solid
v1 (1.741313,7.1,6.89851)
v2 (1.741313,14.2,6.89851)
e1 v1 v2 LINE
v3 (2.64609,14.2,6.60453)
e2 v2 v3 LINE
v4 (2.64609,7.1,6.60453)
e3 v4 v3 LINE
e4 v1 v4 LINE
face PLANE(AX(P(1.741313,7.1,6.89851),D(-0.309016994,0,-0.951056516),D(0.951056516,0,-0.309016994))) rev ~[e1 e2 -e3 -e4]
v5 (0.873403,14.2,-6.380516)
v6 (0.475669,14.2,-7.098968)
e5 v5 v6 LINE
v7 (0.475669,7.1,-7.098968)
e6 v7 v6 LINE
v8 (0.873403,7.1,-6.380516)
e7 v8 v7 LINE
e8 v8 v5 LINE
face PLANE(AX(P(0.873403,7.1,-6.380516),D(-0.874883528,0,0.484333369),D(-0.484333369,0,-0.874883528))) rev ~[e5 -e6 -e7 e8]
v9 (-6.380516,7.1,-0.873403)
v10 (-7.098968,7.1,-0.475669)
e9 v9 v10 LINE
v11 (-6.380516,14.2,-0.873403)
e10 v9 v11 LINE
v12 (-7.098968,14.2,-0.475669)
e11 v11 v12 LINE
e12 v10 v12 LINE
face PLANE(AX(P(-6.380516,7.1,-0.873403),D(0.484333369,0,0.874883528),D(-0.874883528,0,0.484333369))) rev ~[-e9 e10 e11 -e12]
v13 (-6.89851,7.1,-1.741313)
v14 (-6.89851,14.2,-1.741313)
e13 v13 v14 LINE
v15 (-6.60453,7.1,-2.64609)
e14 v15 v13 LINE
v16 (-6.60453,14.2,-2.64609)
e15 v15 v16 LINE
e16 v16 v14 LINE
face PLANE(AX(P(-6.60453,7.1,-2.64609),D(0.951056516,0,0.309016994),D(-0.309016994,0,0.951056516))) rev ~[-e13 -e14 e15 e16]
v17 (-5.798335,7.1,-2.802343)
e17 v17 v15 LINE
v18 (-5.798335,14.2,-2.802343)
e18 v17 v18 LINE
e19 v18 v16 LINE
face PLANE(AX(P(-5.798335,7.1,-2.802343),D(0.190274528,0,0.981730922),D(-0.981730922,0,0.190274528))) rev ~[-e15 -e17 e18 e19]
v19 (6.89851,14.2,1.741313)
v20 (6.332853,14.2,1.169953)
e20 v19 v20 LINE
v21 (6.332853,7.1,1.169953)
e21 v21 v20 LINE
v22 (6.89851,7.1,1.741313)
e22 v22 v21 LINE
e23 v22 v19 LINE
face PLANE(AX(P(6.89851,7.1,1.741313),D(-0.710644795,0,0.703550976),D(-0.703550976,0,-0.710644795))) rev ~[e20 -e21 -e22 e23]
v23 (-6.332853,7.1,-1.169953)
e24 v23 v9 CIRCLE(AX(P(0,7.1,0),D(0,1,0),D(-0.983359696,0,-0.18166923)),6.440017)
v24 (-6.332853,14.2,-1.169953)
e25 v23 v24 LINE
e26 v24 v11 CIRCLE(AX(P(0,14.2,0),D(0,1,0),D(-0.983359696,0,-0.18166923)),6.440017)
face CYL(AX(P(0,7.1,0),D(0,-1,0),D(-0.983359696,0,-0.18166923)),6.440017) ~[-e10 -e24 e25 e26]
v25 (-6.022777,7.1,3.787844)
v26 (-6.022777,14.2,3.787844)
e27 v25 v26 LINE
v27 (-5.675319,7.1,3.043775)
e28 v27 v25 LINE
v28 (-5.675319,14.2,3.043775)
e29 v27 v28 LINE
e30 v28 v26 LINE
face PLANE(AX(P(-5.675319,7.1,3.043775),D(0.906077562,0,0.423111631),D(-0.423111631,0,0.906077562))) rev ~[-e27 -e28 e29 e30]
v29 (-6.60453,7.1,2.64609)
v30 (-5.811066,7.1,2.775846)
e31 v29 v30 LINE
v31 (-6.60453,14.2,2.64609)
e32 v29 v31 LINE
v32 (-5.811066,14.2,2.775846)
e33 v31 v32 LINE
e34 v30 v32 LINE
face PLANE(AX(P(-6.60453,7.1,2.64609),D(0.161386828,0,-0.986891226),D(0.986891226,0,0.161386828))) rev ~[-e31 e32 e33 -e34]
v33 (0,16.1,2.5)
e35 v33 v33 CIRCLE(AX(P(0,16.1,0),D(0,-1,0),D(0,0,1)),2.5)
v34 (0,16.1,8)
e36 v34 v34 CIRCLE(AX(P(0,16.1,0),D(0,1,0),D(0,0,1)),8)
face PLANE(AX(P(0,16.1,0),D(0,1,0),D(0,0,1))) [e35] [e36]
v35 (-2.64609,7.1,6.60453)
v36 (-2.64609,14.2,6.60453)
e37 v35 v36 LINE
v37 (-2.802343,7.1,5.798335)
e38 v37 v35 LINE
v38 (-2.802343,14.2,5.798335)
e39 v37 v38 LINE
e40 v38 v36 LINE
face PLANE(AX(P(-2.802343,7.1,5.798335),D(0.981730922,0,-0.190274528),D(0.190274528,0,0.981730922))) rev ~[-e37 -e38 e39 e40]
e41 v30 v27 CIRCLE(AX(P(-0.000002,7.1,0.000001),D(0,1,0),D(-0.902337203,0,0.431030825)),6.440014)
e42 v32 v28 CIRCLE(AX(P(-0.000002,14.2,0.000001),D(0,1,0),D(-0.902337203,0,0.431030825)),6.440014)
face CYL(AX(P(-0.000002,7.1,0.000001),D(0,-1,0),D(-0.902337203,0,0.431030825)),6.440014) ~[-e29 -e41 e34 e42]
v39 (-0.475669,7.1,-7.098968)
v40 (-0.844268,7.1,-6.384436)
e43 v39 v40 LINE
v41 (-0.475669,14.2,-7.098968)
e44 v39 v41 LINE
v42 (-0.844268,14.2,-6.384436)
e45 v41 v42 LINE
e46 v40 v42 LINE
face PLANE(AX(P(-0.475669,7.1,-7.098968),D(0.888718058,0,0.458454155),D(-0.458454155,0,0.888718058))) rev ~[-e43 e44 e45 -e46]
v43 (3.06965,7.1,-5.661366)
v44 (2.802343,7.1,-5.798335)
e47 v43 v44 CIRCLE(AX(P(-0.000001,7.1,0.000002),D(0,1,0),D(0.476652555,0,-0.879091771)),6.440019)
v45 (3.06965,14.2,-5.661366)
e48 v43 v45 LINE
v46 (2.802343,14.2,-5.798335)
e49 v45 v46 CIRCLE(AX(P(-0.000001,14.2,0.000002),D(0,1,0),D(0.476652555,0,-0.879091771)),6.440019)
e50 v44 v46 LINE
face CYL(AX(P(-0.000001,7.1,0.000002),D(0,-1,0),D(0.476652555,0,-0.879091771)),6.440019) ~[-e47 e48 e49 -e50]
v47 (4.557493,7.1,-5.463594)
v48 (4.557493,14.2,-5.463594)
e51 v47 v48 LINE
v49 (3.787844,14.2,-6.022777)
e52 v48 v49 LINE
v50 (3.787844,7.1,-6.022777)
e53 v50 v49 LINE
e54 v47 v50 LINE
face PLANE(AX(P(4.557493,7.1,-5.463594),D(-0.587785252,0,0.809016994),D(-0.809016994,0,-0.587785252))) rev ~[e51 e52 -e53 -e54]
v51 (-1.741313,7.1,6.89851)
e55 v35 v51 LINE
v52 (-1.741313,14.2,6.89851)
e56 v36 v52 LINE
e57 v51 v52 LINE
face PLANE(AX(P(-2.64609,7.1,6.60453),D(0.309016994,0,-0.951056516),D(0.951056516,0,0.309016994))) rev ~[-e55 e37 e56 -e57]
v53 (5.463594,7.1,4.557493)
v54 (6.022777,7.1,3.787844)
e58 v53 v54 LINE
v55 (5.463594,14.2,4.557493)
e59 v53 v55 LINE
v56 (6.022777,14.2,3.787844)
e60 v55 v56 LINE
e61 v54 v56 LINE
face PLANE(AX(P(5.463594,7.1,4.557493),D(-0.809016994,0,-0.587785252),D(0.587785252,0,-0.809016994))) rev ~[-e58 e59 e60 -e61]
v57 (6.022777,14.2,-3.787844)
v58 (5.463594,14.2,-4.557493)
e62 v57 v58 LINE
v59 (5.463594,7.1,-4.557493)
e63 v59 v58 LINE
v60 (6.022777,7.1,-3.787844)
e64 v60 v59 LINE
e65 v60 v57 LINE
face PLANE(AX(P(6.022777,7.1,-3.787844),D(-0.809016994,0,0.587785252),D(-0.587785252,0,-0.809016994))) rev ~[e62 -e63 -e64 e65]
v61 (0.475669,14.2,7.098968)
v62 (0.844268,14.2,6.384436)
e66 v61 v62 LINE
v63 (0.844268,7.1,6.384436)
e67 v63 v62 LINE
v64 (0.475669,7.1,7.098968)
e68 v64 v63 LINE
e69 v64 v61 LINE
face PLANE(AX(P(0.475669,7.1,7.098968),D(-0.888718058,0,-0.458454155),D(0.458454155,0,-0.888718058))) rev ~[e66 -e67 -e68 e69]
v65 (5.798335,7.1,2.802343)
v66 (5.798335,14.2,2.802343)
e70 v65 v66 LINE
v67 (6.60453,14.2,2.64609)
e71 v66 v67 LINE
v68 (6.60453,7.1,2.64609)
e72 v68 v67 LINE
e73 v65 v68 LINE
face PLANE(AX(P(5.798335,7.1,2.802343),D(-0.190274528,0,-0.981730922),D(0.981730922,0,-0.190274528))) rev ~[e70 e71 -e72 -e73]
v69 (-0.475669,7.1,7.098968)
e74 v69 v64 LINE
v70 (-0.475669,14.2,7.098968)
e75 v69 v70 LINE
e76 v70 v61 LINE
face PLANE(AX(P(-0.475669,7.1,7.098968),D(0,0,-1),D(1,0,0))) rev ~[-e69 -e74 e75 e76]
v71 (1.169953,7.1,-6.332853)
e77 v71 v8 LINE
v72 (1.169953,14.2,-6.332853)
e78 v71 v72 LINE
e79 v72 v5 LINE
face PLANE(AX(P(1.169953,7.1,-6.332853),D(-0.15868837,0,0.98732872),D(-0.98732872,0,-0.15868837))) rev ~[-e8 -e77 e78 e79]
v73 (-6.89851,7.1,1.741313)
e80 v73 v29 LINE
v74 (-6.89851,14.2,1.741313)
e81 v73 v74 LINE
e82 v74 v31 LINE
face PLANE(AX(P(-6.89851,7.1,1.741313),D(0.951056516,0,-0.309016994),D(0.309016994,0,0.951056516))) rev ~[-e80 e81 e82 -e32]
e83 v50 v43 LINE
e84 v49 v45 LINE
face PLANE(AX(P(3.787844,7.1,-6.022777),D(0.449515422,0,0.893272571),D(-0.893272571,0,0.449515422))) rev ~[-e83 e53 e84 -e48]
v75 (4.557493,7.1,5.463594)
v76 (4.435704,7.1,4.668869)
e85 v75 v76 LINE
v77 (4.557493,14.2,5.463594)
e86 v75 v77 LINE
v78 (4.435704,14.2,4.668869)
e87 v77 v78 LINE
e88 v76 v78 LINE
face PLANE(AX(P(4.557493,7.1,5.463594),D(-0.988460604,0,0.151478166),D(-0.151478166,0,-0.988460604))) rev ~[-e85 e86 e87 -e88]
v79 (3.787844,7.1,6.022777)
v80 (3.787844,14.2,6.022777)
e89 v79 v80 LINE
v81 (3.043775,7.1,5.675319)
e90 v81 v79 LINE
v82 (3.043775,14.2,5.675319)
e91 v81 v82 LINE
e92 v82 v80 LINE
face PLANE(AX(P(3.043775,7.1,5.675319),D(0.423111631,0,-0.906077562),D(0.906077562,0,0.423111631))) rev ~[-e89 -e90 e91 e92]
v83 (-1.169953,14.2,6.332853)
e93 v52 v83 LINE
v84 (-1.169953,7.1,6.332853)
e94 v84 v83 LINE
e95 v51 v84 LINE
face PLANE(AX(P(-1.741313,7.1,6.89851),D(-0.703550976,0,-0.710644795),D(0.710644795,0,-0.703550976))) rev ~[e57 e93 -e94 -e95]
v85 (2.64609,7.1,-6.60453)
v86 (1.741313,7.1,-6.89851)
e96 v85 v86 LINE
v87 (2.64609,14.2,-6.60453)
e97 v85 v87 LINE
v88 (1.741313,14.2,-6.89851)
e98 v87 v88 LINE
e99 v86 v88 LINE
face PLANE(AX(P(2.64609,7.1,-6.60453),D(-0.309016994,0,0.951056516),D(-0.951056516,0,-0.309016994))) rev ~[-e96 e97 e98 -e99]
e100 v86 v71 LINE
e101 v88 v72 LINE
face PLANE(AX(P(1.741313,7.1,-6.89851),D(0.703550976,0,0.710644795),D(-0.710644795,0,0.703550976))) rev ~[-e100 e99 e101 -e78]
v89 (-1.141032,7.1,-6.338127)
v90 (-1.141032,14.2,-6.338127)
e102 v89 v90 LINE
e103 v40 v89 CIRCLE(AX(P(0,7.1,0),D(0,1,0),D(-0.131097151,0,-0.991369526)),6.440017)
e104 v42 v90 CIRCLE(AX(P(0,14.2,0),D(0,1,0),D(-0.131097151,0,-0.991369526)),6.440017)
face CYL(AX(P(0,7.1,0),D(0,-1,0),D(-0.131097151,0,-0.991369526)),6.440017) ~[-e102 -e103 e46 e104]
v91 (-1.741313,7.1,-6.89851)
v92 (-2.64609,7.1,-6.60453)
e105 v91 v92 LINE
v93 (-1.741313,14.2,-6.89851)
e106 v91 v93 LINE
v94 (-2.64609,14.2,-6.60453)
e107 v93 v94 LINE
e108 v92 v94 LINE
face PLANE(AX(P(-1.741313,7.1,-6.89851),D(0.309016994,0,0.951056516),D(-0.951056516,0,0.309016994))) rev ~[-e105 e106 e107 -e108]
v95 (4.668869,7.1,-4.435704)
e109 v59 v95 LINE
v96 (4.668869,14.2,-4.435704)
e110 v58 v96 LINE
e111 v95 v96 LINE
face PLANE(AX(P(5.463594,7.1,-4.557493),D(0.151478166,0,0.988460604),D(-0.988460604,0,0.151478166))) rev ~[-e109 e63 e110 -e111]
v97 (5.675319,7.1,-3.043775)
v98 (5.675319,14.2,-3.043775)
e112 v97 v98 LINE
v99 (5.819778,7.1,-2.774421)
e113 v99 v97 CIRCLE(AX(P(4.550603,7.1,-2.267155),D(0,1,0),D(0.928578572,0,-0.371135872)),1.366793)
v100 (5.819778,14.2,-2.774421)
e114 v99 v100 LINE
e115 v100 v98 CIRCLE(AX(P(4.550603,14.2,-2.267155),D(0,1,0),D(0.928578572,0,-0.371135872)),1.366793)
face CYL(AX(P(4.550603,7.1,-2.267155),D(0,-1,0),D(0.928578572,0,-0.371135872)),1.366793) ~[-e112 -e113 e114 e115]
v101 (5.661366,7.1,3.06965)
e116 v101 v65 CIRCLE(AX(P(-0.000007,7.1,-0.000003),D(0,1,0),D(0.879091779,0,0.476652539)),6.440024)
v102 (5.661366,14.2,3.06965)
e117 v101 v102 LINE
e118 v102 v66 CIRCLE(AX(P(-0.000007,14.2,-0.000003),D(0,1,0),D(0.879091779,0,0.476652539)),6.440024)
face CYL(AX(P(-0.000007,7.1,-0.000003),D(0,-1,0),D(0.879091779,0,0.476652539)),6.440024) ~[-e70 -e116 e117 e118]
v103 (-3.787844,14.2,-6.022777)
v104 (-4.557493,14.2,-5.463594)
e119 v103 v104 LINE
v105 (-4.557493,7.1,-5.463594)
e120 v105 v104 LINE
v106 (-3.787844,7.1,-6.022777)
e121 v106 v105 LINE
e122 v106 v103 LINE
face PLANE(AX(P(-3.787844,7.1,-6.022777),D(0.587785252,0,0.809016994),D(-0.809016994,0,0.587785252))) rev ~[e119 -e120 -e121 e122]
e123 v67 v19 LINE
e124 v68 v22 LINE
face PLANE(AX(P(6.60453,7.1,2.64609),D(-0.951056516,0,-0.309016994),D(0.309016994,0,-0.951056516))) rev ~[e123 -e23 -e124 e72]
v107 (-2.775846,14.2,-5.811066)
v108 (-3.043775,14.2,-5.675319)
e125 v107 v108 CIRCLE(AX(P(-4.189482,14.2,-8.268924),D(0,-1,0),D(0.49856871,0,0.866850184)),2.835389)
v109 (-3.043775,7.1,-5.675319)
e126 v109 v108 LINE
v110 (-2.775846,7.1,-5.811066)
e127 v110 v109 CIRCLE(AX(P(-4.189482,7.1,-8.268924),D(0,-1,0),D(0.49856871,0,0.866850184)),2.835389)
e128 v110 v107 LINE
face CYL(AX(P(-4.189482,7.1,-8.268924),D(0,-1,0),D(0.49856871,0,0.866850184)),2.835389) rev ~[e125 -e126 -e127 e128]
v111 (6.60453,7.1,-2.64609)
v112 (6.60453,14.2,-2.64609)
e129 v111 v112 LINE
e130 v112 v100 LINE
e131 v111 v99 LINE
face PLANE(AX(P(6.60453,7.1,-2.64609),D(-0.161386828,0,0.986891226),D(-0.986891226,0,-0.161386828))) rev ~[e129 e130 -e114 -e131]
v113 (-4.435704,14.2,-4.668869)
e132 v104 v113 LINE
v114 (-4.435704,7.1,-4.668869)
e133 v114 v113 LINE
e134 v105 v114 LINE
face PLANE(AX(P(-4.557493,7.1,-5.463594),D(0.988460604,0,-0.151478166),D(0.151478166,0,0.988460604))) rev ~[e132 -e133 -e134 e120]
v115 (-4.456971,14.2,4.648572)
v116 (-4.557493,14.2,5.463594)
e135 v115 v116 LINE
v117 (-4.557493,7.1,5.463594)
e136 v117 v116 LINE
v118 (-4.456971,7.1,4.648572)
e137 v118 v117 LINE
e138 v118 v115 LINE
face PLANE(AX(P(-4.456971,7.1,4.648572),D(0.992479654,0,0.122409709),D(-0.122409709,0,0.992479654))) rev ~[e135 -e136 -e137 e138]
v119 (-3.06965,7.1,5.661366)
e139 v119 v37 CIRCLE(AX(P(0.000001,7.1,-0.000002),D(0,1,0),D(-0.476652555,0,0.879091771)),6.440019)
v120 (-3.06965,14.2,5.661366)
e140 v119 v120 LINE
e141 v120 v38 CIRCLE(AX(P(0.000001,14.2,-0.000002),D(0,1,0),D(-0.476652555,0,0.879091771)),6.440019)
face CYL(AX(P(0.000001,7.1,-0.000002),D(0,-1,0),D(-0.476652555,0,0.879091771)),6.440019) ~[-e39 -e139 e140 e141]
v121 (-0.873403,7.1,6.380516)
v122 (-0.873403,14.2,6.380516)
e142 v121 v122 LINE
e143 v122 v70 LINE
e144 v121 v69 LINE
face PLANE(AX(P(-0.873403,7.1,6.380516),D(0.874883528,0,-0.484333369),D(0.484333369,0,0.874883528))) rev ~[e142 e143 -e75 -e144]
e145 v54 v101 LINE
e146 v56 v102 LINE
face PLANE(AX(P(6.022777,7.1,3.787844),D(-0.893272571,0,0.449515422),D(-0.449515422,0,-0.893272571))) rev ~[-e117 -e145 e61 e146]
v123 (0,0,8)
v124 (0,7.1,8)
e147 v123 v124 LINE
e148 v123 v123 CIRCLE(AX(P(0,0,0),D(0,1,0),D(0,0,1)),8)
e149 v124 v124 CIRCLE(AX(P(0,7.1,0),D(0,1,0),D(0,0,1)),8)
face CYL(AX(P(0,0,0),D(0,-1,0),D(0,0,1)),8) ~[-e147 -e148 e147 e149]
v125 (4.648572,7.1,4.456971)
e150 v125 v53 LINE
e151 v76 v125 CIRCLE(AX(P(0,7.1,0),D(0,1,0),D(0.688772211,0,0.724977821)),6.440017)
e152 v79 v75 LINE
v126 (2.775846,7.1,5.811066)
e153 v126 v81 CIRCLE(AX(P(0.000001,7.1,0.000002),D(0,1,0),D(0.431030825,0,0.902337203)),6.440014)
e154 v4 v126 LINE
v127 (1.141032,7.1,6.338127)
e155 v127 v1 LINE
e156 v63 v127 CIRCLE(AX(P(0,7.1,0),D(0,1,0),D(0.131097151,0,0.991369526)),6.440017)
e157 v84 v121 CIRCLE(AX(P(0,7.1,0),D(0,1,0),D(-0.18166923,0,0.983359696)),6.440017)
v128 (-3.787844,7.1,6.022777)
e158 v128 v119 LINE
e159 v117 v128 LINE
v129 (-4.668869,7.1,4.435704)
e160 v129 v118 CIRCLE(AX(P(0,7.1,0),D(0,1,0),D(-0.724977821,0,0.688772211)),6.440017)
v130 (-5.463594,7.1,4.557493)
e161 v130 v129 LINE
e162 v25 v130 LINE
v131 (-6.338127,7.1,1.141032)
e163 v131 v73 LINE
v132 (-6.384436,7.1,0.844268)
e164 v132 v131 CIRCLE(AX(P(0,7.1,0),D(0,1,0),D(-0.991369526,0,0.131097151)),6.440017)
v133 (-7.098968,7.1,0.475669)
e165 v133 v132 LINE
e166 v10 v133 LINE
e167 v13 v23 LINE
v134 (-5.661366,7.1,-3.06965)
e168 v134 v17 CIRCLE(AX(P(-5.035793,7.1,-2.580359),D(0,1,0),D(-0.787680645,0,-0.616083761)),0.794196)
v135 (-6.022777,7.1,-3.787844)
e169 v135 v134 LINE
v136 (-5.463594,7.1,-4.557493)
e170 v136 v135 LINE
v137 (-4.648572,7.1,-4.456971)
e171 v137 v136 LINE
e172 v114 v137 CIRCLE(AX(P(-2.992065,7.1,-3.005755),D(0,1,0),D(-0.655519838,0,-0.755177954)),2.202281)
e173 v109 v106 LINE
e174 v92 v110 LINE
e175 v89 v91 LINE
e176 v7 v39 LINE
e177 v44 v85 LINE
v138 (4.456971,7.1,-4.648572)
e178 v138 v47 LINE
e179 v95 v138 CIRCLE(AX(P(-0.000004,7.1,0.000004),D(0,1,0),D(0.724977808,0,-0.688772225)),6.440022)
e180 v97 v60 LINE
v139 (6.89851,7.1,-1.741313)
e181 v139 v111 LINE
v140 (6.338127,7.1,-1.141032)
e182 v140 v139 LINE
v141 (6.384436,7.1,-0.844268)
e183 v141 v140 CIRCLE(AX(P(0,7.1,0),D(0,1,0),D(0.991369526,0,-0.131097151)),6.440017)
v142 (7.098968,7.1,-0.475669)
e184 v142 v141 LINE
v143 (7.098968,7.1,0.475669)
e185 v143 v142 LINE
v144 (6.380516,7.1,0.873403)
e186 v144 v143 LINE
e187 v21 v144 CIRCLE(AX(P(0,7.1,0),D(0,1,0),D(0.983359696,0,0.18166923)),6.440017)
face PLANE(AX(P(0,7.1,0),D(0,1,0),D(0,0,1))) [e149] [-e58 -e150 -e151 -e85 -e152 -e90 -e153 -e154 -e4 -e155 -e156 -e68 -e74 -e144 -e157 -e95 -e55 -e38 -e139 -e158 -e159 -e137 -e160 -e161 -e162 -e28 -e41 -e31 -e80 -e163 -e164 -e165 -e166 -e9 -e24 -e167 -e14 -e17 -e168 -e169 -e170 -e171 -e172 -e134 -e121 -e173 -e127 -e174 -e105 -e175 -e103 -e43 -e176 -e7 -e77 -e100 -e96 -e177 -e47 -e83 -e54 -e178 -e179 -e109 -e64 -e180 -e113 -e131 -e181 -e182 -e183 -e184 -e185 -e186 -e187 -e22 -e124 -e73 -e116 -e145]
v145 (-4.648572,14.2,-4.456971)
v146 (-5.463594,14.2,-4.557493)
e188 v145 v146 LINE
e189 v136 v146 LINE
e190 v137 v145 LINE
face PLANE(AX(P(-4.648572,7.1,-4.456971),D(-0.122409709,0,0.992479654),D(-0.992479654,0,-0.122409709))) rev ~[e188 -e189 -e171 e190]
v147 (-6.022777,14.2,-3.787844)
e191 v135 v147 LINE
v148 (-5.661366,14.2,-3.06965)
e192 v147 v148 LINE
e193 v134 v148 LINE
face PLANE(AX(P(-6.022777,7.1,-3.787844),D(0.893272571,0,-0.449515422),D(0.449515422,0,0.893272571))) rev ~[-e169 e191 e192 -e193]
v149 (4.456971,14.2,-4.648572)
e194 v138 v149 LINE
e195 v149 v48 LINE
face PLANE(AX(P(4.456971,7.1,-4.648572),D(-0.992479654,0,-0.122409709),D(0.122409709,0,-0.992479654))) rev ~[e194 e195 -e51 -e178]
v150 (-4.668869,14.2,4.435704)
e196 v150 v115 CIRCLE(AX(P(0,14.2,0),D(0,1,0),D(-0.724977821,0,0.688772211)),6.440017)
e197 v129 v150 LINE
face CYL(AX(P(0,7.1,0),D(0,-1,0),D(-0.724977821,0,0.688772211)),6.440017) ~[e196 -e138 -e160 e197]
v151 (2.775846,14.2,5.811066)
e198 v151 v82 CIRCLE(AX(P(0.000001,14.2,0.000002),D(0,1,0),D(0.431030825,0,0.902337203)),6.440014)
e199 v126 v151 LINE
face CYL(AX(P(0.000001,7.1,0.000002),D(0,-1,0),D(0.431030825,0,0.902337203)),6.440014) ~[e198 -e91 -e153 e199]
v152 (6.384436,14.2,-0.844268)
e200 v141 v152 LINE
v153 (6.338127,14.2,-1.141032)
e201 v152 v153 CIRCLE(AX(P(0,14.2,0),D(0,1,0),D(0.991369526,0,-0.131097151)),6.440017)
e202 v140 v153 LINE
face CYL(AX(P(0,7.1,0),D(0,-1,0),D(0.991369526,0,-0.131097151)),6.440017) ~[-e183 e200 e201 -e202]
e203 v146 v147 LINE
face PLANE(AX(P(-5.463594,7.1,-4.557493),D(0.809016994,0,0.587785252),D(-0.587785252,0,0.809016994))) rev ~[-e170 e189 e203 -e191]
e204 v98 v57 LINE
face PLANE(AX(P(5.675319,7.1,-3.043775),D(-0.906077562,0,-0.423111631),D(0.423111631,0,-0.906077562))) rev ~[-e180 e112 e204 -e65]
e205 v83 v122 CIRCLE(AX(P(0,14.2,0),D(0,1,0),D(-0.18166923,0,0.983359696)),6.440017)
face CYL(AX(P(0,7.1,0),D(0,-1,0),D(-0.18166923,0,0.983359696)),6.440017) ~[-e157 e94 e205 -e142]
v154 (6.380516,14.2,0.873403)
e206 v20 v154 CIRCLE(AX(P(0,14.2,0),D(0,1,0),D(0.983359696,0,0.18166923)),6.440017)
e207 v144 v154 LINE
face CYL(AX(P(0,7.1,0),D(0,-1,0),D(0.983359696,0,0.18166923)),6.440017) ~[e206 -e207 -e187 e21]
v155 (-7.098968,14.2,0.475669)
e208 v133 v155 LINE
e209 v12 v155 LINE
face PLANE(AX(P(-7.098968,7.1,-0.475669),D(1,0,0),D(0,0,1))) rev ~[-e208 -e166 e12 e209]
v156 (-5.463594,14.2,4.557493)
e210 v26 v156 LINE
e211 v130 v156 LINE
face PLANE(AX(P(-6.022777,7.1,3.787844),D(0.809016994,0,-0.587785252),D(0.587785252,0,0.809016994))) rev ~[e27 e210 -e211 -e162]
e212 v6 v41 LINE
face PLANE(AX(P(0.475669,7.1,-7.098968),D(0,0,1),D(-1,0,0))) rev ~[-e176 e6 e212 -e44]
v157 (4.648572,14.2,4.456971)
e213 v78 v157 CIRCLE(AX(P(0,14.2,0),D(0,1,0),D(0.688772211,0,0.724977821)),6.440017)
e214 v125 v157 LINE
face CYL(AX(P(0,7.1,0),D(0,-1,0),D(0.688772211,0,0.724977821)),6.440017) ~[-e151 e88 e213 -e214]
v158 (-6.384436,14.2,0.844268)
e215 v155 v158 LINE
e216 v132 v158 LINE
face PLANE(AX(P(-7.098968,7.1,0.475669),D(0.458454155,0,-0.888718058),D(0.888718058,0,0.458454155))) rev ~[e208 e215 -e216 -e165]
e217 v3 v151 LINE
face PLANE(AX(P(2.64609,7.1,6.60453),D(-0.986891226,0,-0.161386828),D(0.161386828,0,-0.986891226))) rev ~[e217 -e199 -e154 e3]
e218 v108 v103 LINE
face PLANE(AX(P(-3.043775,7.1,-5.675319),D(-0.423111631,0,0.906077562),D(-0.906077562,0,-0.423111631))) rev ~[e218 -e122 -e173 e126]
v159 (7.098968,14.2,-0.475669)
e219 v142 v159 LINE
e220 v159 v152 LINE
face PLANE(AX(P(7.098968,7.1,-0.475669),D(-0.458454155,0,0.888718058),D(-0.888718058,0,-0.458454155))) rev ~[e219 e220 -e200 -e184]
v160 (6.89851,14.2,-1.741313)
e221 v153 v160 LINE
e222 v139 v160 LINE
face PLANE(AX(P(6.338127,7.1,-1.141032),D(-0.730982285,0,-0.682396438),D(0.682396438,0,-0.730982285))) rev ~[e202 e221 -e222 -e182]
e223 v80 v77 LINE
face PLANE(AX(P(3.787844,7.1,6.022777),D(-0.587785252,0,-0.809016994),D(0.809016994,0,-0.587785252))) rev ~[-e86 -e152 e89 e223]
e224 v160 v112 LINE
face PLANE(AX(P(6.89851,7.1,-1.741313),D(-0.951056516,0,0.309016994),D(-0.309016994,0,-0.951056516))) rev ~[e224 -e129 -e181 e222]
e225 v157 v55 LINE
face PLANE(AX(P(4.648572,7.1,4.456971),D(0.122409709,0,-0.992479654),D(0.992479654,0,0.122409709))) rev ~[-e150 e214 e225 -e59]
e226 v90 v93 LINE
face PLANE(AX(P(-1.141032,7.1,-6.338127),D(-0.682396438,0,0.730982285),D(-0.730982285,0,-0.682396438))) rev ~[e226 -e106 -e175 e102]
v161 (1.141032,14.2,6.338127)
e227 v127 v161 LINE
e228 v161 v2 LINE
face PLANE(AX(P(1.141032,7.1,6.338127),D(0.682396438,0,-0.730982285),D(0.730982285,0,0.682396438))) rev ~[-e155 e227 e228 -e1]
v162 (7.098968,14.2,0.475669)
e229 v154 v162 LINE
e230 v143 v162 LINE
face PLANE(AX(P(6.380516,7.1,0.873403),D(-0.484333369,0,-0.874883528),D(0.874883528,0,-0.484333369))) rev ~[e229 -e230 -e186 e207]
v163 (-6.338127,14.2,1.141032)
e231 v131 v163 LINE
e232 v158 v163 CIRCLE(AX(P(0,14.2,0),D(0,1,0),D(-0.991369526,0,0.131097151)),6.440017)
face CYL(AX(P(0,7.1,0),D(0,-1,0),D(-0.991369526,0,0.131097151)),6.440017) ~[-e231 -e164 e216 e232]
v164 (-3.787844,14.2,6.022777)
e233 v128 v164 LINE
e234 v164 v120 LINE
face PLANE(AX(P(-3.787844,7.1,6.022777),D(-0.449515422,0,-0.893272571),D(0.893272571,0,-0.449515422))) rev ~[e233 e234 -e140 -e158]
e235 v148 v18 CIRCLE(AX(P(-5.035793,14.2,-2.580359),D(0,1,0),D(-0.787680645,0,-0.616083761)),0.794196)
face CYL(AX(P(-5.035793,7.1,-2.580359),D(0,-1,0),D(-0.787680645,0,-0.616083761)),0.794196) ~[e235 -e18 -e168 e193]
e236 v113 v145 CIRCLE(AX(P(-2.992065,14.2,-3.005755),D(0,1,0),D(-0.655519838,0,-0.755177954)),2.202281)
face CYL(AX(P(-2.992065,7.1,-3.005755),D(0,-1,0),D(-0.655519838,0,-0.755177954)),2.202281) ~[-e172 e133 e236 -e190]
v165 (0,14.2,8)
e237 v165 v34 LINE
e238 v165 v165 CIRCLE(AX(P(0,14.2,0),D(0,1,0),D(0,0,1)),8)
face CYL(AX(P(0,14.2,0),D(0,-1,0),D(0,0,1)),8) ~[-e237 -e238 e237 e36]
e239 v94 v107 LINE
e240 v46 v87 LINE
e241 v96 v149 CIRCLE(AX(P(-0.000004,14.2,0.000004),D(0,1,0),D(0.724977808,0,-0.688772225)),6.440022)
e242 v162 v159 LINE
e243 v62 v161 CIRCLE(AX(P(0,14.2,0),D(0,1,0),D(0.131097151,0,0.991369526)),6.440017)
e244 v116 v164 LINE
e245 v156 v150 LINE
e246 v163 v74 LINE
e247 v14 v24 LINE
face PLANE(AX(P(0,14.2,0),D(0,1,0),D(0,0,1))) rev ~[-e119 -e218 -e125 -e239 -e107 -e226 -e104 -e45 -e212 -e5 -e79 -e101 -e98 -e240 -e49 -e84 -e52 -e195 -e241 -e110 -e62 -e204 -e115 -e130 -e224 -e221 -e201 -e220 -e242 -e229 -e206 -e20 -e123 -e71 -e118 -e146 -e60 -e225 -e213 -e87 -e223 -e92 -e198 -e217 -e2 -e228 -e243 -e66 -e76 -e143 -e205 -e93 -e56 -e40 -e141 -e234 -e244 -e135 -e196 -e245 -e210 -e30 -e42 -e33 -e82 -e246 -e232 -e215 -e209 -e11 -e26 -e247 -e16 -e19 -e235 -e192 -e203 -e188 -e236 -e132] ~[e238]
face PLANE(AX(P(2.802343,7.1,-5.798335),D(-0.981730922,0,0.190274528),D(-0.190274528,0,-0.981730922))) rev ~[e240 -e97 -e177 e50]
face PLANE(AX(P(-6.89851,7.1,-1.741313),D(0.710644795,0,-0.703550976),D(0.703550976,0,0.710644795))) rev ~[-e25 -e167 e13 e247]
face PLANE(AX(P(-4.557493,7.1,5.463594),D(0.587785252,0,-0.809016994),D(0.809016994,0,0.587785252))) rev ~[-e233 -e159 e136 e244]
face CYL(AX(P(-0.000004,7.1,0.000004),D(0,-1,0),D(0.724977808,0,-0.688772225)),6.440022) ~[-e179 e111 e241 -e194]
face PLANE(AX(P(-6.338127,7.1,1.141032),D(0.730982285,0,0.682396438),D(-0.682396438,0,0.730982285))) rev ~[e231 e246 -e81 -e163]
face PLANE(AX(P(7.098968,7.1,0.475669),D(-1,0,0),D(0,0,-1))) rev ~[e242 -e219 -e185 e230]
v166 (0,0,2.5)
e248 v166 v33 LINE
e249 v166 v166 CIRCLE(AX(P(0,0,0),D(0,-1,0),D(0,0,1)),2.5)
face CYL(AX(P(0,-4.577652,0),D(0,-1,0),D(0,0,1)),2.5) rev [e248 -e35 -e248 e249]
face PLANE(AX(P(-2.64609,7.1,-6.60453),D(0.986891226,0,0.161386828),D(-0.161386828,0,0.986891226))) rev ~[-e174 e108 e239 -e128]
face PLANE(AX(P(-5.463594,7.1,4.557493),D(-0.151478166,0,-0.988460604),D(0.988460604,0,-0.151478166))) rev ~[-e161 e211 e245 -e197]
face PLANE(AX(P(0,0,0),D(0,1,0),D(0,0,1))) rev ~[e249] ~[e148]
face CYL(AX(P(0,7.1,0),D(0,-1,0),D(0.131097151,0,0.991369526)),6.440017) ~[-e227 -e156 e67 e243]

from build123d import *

# Parameters (mm, degrees)
SKETCH1_R               = 8
BOSS_EXTRUDE1_DEPTH     = 7.1
BOSS_EXTRUDE2_DEPTH     = 7.1
SKETCH3_R               = 8
BOSS_EXTRUDE3_DEPTH     = 1.9
CUT_EXTRUDE1_DEPTH      = 20.677652299
CUT_EXTRUDE1_DEPTH_BACK = 20.677652299
SKETCH4_R               = 2.5


with BuildPart() as part:
    # Sketch1 → Boss-Extrude1 (new body)
    with BuildSketch(Plane(origin=(0, 0, 0), x_dir=(1, 0, 0), z_dir=(0, 1, 0))):
        with Locations(Location((0, 0, 0), (0, 0, 270))):
            Circle(SKETCH1_R)
    extrude(amount=BOSS_EXTRUDE1_DEPTH)

    # Sketch2 → Boss-Extrude2 (add)
    with BuildSketch(Plane(origin=(0, 7.1, 0), x_dir=(1, 0, 0), z_dir=(0, 1, 0))):
        with BuildLine():
            Line((-0.475669396, 7.098967945), (-0.844267822, 6.384436135))
            ThreePointArc((-0.844267822, 6.384436135), (-0.992920102, 6.363012069), (-1.14103236, 6.338127332))
            Line((-1.14103236, 6.338127332), (-1.741313259, 6.89850965))
            Line((-1.741313259, 6.89850965), (-2.646090217, 6.604529796))
            Line((-2.646090217, 6.604529796), (-2.775845679, 5.811066484))
            ThreePointArc((-2.775845679, 5.811066484), (-2.90801175, 5.739642443), (-3.043775319, 5.675318909))
            Line((-3.043775319, 5.675318909), (-3.78784404, 6.022777166))
            Line((-3.78784404, 6.022777166), (-4.55749329, 5.463594254))
            Line((-4.55749329, 5.463594254), (-4.43570442, 4.668869158))
            ThreePointArc((-4.43570442, 4.668869158), (-4.545755036, 4.566553145), (-4.648572343, 4.45697073))
            Line((-4.648572343, 4.45697073), (-5.463594254, 4.557493289))
            Line((-5.463594254, 4.557493289), (-6.022777166, 3.787844039))
            Line((-6.022777166, 3.787844039), (-5.661365507, 3.069650389))
            ThreePointArc((-5.661365507, 3.069650389), (-5.74260171, 2.942530762), (-5.798334717, 2.802343202))
            Line((-5.798334717, 2.802343202), (-6.604529796, 2.646090216))
            Line((-6.604529796, 2.646090216), (-6.89850965, 1.741313258))
            Line((-6.89850965, 1.741313258), (-6.332852694, 1.169952852))
            ThreePointArc((-6.332852694, 1.169952852), (-6.358413277, 1.021955731), (-6.38051569, 0.873402797))
            Line((-6.38051569, 0.873402797), (-7.098967945, 0.475669396))
            Line((-7.098967945, 0.475669396), (-7.098967945, -0.475669396))
            Line((-7.098967945, -0.475669396), (-6.384436135, -0.844267822))
            ThreePointArc((-6.384436135, -0.844267822), (-6.363012069, -0.992920102), (-6.338127332, -1.14103236))
            Line((-6.338127332, -1.14103236), (-6.89850965, -1.741313259))
            Line((-6.89850965, -1.741313259), (-6.604529796, -2.646090217))
            Line((-6.604529796, -2.646090217), (-5.811066484, -2.775845679))
            ThreePointArc((-5.811066484, -2.775845679), (-5.744754906, -2.910601998), (-5.675318909, -3.043775319))
            Line((-5.675318909, -3.043775319), (-6.022777166, -3.78784404))
            Line((-6.022777166, -3.78784404), (-5.463594254, -4.55749329))
            Line((-5.463594254, -4.55749329), (-4.668869158, -4.43570442))
            ThreePointArc((-4.668869158, -4.43570442), (-4.564161106, -4.543373891), (-4.45697073, -4.648572343))
            Line((-4.45697073, -4.648572343), (-4.557493289, -5.463594254))
            Line((-4.557493289, -5.463594254), (-3.787844039, -6.022777166))
            Line((-3.787844039, -6.022777166), (-3.069650389, -5.661365507))
            ThreePointArc((-3.069650389, -5.661365507), (-2.936795417, -5.731408691), (-2.802343202, -5.798334717))
            Line((-2.802343202, -5.798334717), (-2.646090216, -6.604529796))
            Line((-2.646090216, -6.604529796), (-1.741313258, -6.89850965))
            Line((-1.741313258, -6.89850965), (-1.169952852, -6.332852694))
            ThreePointArc((-1.169952852, -6.332852694), (-1.021955731, -6.358413277), (-0.873402797, -6.38051569))
            Line((-0.873402797, -6.38051569), (-0.475669396, -7.098967945))
            Line((-0.475669396, -7.098967945), (0.475669396, -7.098967945))
            Line((0.475669396, -7.098967945), (0.844267822, -6.384436135))
            ThreePointArc((0.844267822, -6.384436135), (0.992920102, -6.363012069), (1.14103236, -6.338127332))
            Line((1.14103236, -6.338127332), (1.741313259, -6.89850965))
            Line((1.741313259, -6.89850965), (2.646090217, -6.604529796))
            Line((2.646090217, -6.604529796), (2.775845679, -5.811066484))
            ThreePointArc((2.775845679, -5.811066484), (2.910601998, -5.744754906), (3.043775319, -5.675318909))
            Line((3.043775319, -5.675318909), (3.78784404, -6.022777166))
            Line((3.78784404, -6.022777166), (4.55749329, -5.463594254))
            Line((4.55749329, -5.463594254), (4.43570442, -4.668869158))
            ThreePointArc((4.43570442, -4.668869158), (4.543373891, -4.564161106), (4.648572343, -4.45697073))
            Line((4.648572343, -4.45697073), (5.463594254, -4.557493289))
            Line((5.463594254, -4.557493289), (6.022777166, -3.787844039))
            Line((6.022777166, -3.787844039), (5.661365507, -3.069650389))
            ThreePointArc((5.661365507, -3.069650389), (5.73140869, -2.936795416), (5.798334717, -2.802343202))
            Line((5.798334717, -2.802343202), (6.604529796, -2.646090216))
            Line((6.604529796, -2.646090216), (6.89850965, -1.741313258))
            Line((6.89850965, -1.741313258), (6.332852694, -1.169952852))
            ThreePointArc((6.332852694, -1.169952852), (6.358413277, -1.021955731), (6.38051569, -0.873402797))
            Line((6.38051569, -0.873402797), (7.098967945, -0.475669396))
            Line((7.098967945, -0.475669396), (7.098967945, 0.475669396))
            Line((7.098967945, 0.475669396), (6.384436135, 0.844267822))
            ThreePointArc((6.384436135, 0.844267822), (6.363012069, 0.992920102), (6.338127332, 1.14103236))
            Line((6.338127332, 1.14103236), (6.89850965, 1.741313259))
            Line((6.89850965, 1.741313259), (6.604529796, 2.646090217))
            Line((6.604529796, 2.646090217), (5.819778459, 2.774421005))
            ThreePointArc((5.819778459, 2.774421005), (5.755101615, 2.913148935), (5.675318909, 3.043775319))
            Line((5.675318909, 3.043775319), (6.022777166, 3.78784404))
            Line((6.022777166, 3.78784404), (5.463594254, 4.55749329))
            Line((5.463594254, 4.55749329), (4.668869158, 4.43570442))
            ThreePointArc((4.668869158, 4.43570442), (4.564161105, 4.54337389), (4.45697073, 4.648572343))
            Line((4.45697073, 4.648572343), (4.557493289, 5.463594254))
            Line((4.557493289, 5.463594254), (3.787844039, 6.022777166))
            Line((3.787844039, 6.022777166), (3.069650389, 5.661365507))
            ThreePointArc((3.069650389, 5.661365507), (2.936795417, 5.731408691), (2.802343202, 5.798334717))
            Line((2.802343202, 5.798334717), (2.646090216, 6.604529796))
            Line((2.646090216, 6.604529796), (1.741313258, 6.89850965))
            Line((1.741313258, 6.89850965), (1.169952852, 6.332852694))
            Line((1.169952852, 6.332852694), (0.873402797, 6.38051569))
            Line((0.873402797, 6.38051569), (0.475669396, 7.098967945))
            Line((0.475669396, 7.098967945), (-0.475669396, 7.098967945))
        make_face()
    extrude(amount=BOSS_EXTRUDE2_DEPTH)

    # Sketch3 → Boss-Extrude3 (add)
    with BuildSketch(Plane(origin=(0, 14.2, 0), x_dir=(1, 0, 0), z_dir=(0, 1, 0))):
        with Locations(Location((0, 0, 0), (0, 0, 270))):
            Circle(SKETCH3_R)
    extrude(amount=BOSS_EXTRUDE3_DEPTH)

    # Sketch4 → Cut-Extrude1 (cut, two sides: drawn at the far end of the back side and taken through both)
    with BuildSketch(Plane(origin=(0, 16.1, 0), x_dir=(1, 0, 0), z_dir=(0, 1, 0)).offset(-CUT_EXTRUDE1_DEPTH_BACK)):
        with Locations(Location((0, 0, 0), (0, 0, 270))):
            Circle(SKETCH4_R)
    extrude(amount=CUT_EXTRUDE1_DEPTH + CUT_EXTRUDE1_DEPTH_BACK, mode=Mode.SUBTRACT)


solid = part.part
